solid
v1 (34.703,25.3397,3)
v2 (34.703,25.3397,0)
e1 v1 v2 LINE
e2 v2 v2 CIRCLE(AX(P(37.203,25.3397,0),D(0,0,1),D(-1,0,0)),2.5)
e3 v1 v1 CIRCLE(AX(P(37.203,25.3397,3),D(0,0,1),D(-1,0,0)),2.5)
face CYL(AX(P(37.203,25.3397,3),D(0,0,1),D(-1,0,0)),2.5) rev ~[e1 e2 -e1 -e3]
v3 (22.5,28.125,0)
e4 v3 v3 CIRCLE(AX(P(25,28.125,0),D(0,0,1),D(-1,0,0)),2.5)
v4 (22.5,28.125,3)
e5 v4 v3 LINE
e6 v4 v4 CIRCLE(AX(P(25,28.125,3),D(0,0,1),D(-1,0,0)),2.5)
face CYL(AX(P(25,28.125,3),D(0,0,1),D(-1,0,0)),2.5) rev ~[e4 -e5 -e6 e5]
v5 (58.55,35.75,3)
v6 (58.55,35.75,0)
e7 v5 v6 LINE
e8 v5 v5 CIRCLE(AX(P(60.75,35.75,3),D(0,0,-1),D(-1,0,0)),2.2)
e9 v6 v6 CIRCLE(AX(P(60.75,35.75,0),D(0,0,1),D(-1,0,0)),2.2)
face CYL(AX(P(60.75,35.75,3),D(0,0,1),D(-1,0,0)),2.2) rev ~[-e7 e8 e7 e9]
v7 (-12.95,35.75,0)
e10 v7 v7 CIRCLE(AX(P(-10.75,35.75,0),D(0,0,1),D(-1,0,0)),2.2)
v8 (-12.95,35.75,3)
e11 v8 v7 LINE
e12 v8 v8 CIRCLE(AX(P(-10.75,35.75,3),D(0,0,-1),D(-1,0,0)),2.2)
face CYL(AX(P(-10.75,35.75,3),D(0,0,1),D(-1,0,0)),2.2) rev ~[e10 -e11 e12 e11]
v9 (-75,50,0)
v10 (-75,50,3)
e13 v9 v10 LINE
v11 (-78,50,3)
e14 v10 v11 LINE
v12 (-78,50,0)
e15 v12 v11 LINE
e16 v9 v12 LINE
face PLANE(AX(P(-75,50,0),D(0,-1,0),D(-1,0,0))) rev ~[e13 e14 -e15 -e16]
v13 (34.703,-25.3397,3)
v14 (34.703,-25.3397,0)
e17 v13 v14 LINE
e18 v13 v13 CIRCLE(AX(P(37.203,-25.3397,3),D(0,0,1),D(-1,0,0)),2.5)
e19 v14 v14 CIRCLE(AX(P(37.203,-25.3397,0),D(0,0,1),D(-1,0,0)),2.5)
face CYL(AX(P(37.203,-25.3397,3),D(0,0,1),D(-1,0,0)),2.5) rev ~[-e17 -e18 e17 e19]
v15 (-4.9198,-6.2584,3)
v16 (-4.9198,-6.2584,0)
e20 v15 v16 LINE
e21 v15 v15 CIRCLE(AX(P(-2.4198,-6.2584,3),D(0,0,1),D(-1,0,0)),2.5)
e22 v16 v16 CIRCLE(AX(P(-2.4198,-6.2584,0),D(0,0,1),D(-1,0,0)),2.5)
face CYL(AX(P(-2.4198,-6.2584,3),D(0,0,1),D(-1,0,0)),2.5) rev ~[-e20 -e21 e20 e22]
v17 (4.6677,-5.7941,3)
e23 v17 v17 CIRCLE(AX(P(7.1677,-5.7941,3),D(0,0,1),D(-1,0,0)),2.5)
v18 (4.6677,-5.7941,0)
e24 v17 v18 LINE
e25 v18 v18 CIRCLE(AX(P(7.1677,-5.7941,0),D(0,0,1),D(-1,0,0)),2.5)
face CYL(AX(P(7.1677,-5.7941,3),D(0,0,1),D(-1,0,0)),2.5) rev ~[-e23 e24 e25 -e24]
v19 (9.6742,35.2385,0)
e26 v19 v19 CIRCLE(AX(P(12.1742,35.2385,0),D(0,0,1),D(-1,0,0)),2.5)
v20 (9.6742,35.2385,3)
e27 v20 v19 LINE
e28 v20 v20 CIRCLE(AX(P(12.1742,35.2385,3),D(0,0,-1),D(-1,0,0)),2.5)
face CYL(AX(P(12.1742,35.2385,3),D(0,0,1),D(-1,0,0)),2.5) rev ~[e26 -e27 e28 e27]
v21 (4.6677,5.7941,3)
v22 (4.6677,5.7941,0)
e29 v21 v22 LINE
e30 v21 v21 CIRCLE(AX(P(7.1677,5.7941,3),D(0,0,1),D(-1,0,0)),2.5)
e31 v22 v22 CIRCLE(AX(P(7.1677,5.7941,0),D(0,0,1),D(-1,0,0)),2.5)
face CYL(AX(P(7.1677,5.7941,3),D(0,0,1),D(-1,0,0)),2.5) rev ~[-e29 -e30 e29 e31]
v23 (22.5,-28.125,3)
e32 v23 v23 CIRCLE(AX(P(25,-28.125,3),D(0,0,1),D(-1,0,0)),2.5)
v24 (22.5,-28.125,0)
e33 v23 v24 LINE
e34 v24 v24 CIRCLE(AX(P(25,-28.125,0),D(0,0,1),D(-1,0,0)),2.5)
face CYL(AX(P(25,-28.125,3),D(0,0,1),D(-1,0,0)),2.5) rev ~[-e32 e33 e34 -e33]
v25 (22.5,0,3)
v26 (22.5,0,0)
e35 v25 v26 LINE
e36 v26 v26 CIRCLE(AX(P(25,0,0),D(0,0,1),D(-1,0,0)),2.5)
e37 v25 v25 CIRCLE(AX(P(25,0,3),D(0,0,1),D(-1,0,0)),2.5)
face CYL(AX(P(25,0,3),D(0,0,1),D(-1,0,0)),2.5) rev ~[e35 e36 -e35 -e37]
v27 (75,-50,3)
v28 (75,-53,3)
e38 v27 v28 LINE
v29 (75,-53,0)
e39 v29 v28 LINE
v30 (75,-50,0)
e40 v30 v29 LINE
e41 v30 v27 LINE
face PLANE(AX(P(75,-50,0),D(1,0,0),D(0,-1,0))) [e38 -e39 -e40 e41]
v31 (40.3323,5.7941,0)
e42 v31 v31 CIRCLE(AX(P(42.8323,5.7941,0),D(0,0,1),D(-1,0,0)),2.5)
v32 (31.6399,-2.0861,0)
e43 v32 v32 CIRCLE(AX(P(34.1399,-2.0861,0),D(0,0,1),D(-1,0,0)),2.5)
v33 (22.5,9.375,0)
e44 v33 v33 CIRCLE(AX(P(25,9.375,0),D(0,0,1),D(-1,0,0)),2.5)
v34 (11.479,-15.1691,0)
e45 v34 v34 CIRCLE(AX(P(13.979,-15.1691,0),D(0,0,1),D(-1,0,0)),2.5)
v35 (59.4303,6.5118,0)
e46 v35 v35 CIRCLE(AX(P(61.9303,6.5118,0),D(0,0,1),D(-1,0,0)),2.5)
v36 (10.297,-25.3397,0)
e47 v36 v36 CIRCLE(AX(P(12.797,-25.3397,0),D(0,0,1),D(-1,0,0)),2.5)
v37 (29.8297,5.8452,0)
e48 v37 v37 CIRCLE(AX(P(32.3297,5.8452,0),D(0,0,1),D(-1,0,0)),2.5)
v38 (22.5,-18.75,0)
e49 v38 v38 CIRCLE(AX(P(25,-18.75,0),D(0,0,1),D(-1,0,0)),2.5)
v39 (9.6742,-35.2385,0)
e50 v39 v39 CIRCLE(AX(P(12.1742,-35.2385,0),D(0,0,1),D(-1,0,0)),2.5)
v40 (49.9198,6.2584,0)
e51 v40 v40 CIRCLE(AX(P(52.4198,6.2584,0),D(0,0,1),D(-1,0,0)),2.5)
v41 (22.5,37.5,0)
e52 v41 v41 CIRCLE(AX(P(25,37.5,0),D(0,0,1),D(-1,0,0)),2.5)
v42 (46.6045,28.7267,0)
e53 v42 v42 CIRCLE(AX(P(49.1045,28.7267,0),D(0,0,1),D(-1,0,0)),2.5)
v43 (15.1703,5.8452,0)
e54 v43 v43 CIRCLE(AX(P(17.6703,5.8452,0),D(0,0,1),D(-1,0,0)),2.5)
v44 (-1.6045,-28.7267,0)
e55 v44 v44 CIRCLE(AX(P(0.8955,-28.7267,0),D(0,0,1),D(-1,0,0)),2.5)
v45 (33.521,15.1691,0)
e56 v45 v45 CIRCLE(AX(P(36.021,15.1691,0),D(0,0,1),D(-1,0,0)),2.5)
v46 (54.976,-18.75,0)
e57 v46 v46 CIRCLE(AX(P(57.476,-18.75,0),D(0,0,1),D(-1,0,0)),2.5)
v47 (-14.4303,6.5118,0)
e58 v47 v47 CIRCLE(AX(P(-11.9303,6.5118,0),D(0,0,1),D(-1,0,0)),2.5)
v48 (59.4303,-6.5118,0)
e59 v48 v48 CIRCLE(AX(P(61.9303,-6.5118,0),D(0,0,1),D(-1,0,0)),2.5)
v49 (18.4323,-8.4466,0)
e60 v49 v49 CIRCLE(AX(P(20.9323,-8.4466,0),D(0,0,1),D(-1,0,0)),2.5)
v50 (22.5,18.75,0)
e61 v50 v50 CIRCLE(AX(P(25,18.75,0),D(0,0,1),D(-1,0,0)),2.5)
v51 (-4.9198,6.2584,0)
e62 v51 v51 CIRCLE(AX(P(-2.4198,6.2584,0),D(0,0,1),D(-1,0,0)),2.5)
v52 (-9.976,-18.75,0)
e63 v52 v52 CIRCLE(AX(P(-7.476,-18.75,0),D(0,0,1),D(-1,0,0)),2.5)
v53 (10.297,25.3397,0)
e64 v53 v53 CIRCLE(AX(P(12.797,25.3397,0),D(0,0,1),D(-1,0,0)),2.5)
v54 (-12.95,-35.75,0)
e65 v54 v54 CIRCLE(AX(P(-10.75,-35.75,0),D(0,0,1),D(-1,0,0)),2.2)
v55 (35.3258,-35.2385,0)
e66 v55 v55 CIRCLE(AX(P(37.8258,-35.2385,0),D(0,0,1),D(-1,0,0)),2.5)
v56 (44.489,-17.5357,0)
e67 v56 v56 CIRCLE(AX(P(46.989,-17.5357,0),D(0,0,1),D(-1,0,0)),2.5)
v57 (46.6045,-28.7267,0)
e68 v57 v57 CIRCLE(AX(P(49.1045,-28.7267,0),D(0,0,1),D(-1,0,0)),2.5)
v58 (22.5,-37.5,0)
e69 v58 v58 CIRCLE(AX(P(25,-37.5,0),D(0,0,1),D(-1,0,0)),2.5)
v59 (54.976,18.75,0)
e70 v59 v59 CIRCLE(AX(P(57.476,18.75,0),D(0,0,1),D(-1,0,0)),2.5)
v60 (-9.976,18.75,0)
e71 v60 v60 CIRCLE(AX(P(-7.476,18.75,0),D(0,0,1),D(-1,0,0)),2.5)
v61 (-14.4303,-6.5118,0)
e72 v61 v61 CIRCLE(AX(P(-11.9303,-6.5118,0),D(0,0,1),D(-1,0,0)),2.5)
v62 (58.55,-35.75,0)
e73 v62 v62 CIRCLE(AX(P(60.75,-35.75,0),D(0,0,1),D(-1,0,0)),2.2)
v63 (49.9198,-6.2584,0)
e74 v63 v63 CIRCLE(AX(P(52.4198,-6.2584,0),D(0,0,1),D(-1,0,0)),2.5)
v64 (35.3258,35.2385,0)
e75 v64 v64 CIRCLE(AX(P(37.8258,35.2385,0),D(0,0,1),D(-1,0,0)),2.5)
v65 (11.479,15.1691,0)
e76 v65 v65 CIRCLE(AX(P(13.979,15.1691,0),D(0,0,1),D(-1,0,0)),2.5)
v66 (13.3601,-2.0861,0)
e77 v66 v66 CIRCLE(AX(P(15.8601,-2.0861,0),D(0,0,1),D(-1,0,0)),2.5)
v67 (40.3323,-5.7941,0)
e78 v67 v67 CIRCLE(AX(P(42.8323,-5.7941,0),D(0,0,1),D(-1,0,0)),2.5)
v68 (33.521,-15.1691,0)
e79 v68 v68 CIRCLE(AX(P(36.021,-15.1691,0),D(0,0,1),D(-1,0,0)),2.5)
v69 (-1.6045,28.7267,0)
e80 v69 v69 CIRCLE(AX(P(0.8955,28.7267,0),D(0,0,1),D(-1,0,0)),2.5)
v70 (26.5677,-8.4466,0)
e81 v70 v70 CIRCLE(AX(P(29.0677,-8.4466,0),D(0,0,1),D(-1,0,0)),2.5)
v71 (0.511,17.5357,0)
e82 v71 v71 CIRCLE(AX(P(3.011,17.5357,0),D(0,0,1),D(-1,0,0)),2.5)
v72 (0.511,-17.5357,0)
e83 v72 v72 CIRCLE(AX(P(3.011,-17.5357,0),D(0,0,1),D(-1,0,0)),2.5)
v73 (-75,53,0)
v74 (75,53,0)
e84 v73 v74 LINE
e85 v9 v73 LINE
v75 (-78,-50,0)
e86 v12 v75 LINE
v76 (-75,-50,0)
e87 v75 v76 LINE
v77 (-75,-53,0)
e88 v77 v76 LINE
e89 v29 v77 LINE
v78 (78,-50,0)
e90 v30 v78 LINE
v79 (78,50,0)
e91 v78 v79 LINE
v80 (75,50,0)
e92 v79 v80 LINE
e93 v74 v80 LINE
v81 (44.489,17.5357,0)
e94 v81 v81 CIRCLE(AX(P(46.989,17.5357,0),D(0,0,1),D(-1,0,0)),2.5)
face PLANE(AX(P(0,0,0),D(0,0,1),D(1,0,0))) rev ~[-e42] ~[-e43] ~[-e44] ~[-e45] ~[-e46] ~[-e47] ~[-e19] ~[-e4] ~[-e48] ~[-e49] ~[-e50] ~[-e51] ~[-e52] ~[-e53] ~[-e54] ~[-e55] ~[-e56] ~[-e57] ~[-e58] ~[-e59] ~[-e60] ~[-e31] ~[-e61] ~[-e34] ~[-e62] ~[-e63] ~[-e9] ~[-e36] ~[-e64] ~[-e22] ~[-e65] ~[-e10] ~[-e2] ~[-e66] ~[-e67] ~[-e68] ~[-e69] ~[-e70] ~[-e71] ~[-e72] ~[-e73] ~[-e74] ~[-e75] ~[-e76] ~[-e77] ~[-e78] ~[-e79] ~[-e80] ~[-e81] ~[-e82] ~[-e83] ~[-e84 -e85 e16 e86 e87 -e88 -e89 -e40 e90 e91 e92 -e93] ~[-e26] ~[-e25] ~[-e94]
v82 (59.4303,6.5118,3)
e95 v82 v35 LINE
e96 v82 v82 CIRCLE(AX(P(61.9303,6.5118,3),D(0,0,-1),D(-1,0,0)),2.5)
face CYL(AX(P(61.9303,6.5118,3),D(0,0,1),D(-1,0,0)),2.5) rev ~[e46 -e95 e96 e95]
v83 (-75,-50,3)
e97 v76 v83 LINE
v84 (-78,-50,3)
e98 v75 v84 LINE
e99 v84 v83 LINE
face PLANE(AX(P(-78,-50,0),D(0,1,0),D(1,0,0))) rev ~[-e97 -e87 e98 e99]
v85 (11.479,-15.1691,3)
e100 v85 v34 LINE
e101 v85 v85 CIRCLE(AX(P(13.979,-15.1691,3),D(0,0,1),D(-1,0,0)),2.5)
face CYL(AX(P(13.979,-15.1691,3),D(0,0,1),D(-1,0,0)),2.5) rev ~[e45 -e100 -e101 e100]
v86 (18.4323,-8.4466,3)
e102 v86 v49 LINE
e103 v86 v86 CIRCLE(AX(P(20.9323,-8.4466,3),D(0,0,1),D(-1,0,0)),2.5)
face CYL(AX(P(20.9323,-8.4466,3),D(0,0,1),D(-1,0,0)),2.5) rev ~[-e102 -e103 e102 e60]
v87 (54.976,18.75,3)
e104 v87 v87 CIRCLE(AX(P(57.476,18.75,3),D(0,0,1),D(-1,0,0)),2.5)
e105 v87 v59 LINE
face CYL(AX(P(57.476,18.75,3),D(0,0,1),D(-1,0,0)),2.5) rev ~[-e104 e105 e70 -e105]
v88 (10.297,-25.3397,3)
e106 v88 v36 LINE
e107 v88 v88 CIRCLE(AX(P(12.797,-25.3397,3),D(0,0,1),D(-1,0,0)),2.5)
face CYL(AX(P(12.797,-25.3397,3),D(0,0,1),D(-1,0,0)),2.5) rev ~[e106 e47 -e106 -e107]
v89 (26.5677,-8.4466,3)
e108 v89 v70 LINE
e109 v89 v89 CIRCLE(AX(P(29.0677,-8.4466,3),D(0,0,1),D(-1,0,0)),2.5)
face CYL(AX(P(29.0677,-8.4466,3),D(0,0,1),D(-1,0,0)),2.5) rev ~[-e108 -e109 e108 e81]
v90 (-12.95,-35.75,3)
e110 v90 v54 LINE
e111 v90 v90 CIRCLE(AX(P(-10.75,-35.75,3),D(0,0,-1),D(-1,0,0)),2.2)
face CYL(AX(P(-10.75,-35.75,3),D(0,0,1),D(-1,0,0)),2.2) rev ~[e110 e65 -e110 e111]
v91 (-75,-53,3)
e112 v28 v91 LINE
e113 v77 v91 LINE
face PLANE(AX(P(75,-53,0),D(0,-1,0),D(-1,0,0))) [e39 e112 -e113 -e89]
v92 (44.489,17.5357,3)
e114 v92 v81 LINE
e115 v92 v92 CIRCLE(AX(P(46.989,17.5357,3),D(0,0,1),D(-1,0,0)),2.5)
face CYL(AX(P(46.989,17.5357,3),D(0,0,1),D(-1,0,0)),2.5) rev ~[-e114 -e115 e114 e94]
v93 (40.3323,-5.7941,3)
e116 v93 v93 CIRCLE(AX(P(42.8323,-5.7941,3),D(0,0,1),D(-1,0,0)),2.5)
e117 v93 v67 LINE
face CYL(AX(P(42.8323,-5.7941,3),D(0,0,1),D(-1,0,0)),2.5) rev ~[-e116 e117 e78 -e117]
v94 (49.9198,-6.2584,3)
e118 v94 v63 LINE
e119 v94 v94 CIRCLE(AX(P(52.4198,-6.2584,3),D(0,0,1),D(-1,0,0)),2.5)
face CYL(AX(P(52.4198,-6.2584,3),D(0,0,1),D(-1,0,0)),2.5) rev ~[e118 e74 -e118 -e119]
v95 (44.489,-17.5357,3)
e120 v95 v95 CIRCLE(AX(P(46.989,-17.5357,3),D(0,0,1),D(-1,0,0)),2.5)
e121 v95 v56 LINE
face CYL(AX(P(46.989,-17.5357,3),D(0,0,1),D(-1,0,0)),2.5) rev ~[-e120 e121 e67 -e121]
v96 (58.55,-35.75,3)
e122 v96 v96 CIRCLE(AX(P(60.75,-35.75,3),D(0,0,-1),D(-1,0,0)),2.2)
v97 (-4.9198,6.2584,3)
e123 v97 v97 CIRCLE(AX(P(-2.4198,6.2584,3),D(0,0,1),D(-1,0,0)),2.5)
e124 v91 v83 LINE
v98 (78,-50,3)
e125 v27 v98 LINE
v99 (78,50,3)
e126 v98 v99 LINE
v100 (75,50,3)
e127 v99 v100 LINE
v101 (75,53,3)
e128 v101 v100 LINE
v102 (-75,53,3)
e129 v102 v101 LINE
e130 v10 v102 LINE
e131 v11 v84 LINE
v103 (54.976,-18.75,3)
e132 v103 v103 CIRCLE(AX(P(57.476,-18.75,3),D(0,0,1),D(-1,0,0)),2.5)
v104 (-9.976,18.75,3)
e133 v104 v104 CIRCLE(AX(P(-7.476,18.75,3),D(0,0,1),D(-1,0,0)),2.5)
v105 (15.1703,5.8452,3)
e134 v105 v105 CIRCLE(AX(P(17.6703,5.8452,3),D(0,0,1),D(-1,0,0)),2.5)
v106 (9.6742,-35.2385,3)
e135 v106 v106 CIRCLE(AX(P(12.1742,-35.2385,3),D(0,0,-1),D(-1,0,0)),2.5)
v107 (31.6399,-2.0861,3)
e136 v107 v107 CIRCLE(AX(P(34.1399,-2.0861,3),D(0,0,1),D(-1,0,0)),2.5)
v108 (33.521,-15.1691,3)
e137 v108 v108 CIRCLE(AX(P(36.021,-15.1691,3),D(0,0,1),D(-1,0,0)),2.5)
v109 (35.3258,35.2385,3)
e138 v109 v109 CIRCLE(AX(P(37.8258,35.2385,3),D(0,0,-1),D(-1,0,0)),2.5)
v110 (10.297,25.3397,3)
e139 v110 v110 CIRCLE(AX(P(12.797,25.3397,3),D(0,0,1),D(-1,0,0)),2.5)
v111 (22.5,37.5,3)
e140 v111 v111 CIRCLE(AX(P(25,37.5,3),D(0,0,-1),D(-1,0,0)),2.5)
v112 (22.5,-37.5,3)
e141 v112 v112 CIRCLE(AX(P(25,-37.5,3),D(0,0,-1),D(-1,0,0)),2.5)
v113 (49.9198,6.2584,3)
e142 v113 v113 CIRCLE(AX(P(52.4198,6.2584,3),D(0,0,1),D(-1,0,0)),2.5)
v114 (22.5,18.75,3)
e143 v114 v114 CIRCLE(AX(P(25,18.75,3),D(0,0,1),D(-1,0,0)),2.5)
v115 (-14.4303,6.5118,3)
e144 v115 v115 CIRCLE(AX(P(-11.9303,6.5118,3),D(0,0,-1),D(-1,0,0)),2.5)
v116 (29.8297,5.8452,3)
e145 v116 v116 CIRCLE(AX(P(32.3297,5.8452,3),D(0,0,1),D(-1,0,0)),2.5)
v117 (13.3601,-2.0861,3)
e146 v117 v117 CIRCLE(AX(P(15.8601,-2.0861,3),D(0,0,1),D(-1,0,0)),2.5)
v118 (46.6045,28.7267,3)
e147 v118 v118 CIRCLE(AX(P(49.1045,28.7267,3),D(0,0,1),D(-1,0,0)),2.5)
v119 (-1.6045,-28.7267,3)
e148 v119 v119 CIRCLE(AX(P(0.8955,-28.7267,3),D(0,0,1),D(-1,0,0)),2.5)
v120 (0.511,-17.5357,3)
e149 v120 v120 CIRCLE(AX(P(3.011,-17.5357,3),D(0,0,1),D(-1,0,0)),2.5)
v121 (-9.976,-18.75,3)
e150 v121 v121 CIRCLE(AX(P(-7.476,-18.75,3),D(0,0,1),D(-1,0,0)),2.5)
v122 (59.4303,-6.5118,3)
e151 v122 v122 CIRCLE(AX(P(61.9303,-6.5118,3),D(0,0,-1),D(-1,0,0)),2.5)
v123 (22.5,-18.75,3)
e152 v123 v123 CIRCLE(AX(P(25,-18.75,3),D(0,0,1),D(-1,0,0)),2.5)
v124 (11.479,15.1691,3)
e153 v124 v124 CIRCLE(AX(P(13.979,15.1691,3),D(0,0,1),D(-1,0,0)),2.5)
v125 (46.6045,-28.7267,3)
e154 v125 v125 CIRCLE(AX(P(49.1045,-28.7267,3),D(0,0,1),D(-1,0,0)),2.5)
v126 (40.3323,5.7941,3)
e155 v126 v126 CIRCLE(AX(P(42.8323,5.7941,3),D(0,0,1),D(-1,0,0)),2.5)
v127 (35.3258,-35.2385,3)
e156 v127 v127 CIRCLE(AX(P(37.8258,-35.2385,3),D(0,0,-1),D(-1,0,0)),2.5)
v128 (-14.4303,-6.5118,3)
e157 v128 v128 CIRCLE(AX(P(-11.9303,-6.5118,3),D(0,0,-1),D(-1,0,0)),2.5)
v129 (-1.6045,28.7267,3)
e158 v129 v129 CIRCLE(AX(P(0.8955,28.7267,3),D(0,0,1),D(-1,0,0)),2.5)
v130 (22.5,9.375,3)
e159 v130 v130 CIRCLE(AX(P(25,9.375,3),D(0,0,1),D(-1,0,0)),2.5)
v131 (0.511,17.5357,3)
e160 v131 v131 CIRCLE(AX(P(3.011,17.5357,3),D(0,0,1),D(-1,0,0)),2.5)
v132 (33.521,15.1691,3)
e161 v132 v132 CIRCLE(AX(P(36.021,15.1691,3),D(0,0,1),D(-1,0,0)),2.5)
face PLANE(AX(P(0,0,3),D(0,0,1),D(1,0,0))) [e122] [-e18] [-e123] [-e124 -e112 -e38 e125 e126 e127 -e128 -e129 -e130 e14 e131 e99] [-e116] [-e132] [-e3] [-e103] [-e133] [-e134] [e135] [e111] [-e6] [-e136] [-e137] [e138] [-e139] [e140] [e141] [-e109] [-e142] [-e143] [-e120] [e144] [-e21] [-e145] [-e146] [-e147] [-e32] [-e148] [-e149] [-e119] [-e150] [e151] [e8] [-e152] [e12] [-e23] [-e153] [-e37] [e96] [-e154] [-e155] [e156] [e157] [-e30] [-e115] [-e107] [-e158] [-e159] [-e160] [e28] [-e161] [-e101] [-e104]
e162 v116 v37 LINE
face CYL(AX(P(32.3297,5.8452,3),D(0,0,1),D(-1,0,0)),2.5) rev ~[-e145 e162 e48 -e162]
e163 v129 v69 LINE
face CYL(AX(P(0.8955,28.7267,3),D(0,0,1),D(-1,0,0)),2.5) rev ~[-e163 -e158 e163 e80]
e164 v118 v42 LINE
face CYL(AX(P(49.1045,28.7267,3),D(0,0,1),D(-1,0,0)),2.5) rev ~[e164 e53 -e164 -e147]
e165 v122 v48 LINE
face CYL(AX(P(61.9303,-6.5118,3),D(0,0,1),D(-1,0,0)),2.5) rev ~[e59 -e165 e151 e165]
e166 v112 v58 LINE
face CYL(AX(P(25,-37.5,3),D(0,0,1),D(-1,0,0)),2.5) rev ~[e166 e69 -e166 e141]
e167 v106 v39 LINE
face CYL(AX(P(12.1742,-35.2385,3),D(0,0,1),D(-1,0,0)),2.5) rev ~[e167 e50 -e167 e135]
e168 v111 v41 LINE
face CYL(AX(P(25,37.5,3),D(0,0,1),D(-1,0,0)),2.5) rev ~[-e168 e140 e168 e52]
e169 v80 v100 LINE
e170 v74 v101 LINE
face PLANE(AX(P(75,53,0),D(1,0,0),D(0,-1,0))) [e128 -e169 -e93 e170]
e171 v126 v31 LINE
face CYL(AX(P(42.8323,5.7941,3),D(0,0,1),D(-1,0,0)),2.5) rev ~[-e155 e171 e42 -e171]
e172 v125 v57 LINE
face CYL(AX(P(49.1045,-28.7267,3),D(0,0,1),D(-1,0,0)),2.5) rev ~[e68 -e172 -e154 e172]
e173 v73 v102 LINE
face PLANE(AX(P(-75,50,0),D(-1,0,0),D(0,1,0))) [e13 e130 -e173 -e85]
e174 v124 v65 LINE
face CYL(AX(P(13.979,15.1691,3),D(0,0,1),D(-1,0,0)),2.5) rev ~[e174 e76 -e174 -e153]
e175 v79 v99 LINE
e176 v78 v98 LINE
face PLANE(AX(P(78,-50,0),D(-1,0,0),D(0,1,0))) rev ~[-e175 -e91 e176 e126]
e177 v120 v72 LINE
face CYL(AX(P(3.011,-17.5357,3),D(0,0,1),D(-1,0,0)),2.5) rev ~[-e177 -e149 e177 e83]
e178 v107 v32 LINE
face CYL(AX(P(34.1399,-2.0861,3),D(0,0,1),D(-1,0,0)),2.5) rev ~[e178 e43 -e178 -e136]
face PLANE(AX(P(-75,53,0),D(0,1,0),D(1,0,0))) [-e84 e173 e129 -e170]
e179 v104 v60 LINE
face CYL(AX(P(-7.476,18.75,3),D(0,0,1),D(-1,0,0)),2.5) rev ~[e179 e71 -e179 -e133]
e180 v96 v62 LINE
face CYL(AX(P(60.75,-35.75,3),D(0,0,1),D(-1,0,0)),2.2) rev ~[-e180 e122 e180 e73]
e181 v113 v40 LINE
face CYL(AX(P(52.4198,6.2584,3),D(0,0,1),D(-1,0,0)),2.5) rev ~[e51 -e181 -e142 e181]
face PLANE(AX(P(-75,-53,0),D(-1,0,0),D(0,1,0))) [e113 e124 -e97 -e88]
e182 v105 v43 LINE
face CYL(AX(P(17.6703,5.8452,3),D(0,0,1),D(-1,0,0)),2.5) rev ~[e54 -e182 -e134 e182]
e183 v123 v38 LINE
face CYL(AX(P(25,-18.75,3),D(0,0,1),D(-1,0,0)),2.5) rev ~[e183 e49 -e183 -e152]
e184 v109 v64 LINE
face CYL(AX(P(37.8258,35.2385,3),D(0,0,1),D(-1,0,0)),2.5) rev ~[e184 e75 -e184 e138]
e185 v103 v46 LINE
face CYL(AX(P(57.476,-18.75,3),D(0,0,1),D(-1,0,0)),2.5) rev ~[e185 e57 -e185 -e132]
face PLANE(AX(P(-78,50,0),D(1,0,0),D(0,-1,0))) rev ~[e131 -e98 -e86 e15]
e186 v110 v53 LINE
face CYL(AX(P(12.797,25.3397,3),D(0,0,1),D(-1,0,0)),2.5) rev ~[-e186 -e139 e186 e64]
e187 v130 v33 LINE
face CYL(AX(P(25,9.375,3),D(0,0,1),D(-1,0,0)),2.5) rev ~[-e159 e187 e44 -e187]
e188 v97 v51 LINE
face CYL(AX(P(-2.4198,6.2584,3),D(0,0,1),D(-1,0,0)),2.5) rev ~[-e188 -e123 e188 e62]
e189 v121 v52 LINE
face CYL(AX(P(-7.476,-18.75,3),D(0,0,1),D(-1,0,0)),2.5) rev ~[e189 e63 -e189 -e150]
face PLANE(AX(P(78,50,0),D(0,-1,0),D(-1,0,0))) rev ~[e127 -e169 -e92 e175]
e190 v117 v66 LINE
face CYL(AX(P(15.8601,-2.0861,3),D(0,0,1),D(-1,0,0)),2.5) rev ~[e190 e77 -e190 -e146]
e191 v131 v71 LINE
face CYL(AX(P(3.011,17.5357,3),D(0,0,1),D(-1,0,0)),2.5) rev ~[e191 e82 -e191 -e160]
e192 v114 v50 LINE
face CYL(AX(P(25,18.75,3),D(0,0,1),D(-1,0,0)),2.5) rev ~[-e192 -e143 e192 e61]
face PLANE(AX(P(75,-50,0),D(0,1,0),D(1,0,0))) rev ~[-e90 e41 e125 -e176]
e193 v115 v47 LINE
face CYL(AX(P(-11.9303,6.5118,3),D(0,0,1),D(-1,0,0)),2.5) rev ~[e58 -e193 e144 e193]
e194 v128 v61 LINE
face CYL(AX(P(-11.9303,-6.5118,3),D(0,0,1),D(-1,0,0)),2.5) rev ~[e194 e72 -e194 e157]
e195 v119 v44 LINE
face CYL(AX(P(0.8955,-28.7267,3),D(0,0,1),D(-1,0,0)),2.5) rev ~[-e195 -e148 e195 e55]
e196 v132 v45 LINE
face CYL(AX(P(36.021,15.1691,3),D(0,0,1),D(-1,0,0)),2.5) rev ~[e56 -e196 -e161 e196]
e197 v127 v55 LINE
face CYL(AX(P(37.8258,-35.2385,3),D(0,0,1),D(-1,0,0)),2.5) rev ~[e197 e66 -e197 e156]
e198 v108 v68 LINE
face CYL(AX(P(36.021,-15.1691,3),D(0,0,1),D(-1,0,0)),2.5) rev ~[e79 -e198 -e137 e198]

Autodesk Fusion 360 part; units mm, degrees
sketch "Esquisse1" plane through (0, 0, 0) normal (0, 0, 1) x (1, 0, 0)
  line L0 (75, -53) -> (-75, -53)
  line L1 (-75, -53) -> (-75, 53)
  line L2 (-75, 53) -> (75, 53)
  line L3 (75, 53) -> (75, -53)
  line L4 (75, -53) -> (-75, 53) construction
  line L5 (-75, -53) -> (75, 53) construction
  line L6 (78, 50) -> (-78, 50)
  line L7 (-78, 50) -> (-78, -50)
  line L8 (-78, -50) -> (78, -50)
  line L9 (78, -50) -> (78, 50)
  line L10 (78, 50) -> (-78, -50) construction
  line L11 (-78, 50) -> (78, -50) construction
  dimension "d1" = 150
  dimension "d2" = 106
  dimension "d49" = 156
  dimension "d50" = 100
extrude "Extrusion1" add sketch "Esquisse1" along normal blind 3
sketch "Esquisse4" plane through (0, 0, 3) normal (0, 0, 1) x (-1, 0, 0)
  line L0 (-75, -53) -> (75, -53)
  line L1 (75, -53) -> (75, -50)
  line L2 (75, 53) -> (-75, 53)
  line L3 (-75, -50) -> (-75, -53)
  circle A0 centre (-25, -37.5) radius 2.5
  circle A1 centre (-25, -28.125) radius 2.5
  circle A2 centre (-25, -18.75) radius 2.5
  circle A3 centre (-25, -9.375) radius 2.5
  circle A4 centre (-25, 0) radius 2.5
  circle A5 centre (-12.1742, -35.2385) radius 2.5
  circle A6 centre (-0.8955, -28.7267) radius 2.5
  circle A7 centre (7.476, -18.75) radius 2.5
  circle A8 centre (11.9303, -6.5118) radius 2.5
  circle A9 centre (11.9303, 6.5118) radius 2.5
  circle A10 centre (7.476, 18.75) radius 2.5
  circle A11 centre (-0.8955, 28.7267) radius 2.5
  circle A12 centre (-12.1742, 35.2385) radius 2.5
  circle A13 centre (-25, 37.5) radius 2.5
  circle A14 centre (-37.8258, 35.2385) radius 2.5
  circle A15 centre (-49.1045, 28.7267) radius 2.5
  circle A16 centre (-57.476, 18.75) radius 2.5
  circle A17 centre (-61.9303, 6.5118) radius 2.5
  circle A18 centre (-61.9303, -6.5118) radius 2.5
  circle A19 centre (-57.476, -18.75) radius 2.5
  circle A20 centre (-49.1045, -28.7267) radius 2.5
  circle A21 centre (-37.8258, -35.2385) radius 2.5
  circle A22 centre (-12.797, -25.3397) radius 2.5
  circle A23 centre (-3.011, -17.5357) radius 2.5
  circle A24 centre (2.4198, -6.2584) radius 2.5
  circle A25 centre (2.4198, 6.2584) radius 2.5
  circle A26 centre (-3.011, 17.5357) radius 2.5
  circle A27 centre (-12.797, 25.3397) radius 2.5
  circle A28 centre (-25, 28.125) radius 2.5
  circle A29 centre (-37.203, 25.3397) radius 2.5
  circle A30 centre (-46.989, 17.5357) radius 2.5
  circle A31 centre (-52.4198, 6.2584) radius 2.5
  circle A32 centre (-52.4198, -6.2584) radius 2.5
  circle A33 centre (-46.989, -17.5357) radius 2.5
  circle A34 centre (-37.203, -25.3397) radius 2.5
  circle A35 centre (-13.979, -15.1691) radius 2.5
  circle A36 centre (-7.1677, -5.7941) radius 2.5
  circle A37 centre (-7.1677, 5.7941) radius 2.5
  circle A38 centre (-13.979, 15.1691) radius 2.5
  circle A39 centre (-25, 18.75) radius 2.5
  circle A40 centre (-36.021, 15.1691) radius 2.5
  circle A41 centre (-42.8323, 5.7941) radius 2.5
  circle A42 centre (-42.8323, -5.7941) radius 2.5
  circle A43 centre (-36.021, -15.1691) radius 2.5
  circle A44 centre (-17.6703, -5.8452) radius 2.5
  circle A45 centre (-15.8601, 2.0861) radius 2.5
  circle A46 centre (-20.9323, 8.4466) radius 2.5
  circle A47 centre (-29.0677, 8.4466) radius 2.5
  circle A48 centre (-34.1399, 2.0861) radius 2.5
  circle A49 centre (-32.3297, -5.8452) radius 2.5
  line L4 (-75, 50) -> (-78, 50)
  line L5 (-78, 50) -> (-78, -50)
  line L6 (-78, -50) -> (-75, -50)
  line L7 (75, -50) -> (78, -50)
  line L8 (78, -50) -> (78, 50)
  line L9 (78, 50) -> (75, 50)
  line L10 (75, 50) -> (75, 53)
  line L11 (-75, 53) -> (-75, 50)
  circle A50 centre (-60.75, -35.75) radius 2.2
  circle A51 centre (10.75, 35.75) radius 2.2
  line L12 (-60.75, -35.75) -> (10.75, -35.75)
  line L13 (10.75, 35.75) -> (-60.75, -35.75) construction
  line L14 (-60.75, 35.75) -> (10.75, -35.75) construction
  circle A52 centre (10.75, -35.75) radius 2.2
  line L15 (10.75, 35.75) -> (-60.75, 35.75)
  line L16 (-60.75, 35.75) -> (-60.75, -35.75)
  line L17 (10.75, -35.75) -> (10.75, 35.75)
  circle A53 centre (-60.75, 35.75) radius 2.2
  line L18 (-75, 50) -> (-78, 50)
  point P0 (-25, 0)
  dimension "d32" = 5
  dimension "d37" = 0
  dimension "d38" = 37.5
  dimension "d40" = 360
  dimension "d42" = 360
  dimension "d44" = 360
  dimension "d46" = 360
  dimension "d51" = 71.5
  dimension "d52" = 71.5
  dimension "d53" = 4.4
  dimension "d54" = 4.4
  dimension "d55" = 4.4
  dimension "d56" = 4.4
extrude "Extrusion5" cut sketch "Esquisse4" against normal blind 3 contours A0 L12 | A0 L12 | A5 L12 | A5 L12 | A21 L12 | A21 L12 | L12 A52 L17 | L12 A52 L17 | A50 L12 L16 | A50 L12 L16 | A8 L17 | A8 L17 | A18 L16 | A18 L16 | A9 L17 | A9 L17 | A17 L16 | A17 L16 | A51 L15 L17 | A51 L15 L17 | L15 L16 A53 | L15 L16 A53 | A12 L15 | A12 L15 | A14 L15 | A14 L15 | A13 L15 | A13 L15 | A1 | A2 | A3 | A4 | A6 | A7 | A10 | A11 | A15 | A16 | A19 | A20 | A22 | A23 | A24 | A25 | A26 | A27 | A28 | A29 | A30 | A31 | A32 | A33 | A34 | A35 | A36 | A37 | A38 | A39 | A40 | A41 | A42 | A43 | A44 | A45 | A46 | A47 | A48 | A49
